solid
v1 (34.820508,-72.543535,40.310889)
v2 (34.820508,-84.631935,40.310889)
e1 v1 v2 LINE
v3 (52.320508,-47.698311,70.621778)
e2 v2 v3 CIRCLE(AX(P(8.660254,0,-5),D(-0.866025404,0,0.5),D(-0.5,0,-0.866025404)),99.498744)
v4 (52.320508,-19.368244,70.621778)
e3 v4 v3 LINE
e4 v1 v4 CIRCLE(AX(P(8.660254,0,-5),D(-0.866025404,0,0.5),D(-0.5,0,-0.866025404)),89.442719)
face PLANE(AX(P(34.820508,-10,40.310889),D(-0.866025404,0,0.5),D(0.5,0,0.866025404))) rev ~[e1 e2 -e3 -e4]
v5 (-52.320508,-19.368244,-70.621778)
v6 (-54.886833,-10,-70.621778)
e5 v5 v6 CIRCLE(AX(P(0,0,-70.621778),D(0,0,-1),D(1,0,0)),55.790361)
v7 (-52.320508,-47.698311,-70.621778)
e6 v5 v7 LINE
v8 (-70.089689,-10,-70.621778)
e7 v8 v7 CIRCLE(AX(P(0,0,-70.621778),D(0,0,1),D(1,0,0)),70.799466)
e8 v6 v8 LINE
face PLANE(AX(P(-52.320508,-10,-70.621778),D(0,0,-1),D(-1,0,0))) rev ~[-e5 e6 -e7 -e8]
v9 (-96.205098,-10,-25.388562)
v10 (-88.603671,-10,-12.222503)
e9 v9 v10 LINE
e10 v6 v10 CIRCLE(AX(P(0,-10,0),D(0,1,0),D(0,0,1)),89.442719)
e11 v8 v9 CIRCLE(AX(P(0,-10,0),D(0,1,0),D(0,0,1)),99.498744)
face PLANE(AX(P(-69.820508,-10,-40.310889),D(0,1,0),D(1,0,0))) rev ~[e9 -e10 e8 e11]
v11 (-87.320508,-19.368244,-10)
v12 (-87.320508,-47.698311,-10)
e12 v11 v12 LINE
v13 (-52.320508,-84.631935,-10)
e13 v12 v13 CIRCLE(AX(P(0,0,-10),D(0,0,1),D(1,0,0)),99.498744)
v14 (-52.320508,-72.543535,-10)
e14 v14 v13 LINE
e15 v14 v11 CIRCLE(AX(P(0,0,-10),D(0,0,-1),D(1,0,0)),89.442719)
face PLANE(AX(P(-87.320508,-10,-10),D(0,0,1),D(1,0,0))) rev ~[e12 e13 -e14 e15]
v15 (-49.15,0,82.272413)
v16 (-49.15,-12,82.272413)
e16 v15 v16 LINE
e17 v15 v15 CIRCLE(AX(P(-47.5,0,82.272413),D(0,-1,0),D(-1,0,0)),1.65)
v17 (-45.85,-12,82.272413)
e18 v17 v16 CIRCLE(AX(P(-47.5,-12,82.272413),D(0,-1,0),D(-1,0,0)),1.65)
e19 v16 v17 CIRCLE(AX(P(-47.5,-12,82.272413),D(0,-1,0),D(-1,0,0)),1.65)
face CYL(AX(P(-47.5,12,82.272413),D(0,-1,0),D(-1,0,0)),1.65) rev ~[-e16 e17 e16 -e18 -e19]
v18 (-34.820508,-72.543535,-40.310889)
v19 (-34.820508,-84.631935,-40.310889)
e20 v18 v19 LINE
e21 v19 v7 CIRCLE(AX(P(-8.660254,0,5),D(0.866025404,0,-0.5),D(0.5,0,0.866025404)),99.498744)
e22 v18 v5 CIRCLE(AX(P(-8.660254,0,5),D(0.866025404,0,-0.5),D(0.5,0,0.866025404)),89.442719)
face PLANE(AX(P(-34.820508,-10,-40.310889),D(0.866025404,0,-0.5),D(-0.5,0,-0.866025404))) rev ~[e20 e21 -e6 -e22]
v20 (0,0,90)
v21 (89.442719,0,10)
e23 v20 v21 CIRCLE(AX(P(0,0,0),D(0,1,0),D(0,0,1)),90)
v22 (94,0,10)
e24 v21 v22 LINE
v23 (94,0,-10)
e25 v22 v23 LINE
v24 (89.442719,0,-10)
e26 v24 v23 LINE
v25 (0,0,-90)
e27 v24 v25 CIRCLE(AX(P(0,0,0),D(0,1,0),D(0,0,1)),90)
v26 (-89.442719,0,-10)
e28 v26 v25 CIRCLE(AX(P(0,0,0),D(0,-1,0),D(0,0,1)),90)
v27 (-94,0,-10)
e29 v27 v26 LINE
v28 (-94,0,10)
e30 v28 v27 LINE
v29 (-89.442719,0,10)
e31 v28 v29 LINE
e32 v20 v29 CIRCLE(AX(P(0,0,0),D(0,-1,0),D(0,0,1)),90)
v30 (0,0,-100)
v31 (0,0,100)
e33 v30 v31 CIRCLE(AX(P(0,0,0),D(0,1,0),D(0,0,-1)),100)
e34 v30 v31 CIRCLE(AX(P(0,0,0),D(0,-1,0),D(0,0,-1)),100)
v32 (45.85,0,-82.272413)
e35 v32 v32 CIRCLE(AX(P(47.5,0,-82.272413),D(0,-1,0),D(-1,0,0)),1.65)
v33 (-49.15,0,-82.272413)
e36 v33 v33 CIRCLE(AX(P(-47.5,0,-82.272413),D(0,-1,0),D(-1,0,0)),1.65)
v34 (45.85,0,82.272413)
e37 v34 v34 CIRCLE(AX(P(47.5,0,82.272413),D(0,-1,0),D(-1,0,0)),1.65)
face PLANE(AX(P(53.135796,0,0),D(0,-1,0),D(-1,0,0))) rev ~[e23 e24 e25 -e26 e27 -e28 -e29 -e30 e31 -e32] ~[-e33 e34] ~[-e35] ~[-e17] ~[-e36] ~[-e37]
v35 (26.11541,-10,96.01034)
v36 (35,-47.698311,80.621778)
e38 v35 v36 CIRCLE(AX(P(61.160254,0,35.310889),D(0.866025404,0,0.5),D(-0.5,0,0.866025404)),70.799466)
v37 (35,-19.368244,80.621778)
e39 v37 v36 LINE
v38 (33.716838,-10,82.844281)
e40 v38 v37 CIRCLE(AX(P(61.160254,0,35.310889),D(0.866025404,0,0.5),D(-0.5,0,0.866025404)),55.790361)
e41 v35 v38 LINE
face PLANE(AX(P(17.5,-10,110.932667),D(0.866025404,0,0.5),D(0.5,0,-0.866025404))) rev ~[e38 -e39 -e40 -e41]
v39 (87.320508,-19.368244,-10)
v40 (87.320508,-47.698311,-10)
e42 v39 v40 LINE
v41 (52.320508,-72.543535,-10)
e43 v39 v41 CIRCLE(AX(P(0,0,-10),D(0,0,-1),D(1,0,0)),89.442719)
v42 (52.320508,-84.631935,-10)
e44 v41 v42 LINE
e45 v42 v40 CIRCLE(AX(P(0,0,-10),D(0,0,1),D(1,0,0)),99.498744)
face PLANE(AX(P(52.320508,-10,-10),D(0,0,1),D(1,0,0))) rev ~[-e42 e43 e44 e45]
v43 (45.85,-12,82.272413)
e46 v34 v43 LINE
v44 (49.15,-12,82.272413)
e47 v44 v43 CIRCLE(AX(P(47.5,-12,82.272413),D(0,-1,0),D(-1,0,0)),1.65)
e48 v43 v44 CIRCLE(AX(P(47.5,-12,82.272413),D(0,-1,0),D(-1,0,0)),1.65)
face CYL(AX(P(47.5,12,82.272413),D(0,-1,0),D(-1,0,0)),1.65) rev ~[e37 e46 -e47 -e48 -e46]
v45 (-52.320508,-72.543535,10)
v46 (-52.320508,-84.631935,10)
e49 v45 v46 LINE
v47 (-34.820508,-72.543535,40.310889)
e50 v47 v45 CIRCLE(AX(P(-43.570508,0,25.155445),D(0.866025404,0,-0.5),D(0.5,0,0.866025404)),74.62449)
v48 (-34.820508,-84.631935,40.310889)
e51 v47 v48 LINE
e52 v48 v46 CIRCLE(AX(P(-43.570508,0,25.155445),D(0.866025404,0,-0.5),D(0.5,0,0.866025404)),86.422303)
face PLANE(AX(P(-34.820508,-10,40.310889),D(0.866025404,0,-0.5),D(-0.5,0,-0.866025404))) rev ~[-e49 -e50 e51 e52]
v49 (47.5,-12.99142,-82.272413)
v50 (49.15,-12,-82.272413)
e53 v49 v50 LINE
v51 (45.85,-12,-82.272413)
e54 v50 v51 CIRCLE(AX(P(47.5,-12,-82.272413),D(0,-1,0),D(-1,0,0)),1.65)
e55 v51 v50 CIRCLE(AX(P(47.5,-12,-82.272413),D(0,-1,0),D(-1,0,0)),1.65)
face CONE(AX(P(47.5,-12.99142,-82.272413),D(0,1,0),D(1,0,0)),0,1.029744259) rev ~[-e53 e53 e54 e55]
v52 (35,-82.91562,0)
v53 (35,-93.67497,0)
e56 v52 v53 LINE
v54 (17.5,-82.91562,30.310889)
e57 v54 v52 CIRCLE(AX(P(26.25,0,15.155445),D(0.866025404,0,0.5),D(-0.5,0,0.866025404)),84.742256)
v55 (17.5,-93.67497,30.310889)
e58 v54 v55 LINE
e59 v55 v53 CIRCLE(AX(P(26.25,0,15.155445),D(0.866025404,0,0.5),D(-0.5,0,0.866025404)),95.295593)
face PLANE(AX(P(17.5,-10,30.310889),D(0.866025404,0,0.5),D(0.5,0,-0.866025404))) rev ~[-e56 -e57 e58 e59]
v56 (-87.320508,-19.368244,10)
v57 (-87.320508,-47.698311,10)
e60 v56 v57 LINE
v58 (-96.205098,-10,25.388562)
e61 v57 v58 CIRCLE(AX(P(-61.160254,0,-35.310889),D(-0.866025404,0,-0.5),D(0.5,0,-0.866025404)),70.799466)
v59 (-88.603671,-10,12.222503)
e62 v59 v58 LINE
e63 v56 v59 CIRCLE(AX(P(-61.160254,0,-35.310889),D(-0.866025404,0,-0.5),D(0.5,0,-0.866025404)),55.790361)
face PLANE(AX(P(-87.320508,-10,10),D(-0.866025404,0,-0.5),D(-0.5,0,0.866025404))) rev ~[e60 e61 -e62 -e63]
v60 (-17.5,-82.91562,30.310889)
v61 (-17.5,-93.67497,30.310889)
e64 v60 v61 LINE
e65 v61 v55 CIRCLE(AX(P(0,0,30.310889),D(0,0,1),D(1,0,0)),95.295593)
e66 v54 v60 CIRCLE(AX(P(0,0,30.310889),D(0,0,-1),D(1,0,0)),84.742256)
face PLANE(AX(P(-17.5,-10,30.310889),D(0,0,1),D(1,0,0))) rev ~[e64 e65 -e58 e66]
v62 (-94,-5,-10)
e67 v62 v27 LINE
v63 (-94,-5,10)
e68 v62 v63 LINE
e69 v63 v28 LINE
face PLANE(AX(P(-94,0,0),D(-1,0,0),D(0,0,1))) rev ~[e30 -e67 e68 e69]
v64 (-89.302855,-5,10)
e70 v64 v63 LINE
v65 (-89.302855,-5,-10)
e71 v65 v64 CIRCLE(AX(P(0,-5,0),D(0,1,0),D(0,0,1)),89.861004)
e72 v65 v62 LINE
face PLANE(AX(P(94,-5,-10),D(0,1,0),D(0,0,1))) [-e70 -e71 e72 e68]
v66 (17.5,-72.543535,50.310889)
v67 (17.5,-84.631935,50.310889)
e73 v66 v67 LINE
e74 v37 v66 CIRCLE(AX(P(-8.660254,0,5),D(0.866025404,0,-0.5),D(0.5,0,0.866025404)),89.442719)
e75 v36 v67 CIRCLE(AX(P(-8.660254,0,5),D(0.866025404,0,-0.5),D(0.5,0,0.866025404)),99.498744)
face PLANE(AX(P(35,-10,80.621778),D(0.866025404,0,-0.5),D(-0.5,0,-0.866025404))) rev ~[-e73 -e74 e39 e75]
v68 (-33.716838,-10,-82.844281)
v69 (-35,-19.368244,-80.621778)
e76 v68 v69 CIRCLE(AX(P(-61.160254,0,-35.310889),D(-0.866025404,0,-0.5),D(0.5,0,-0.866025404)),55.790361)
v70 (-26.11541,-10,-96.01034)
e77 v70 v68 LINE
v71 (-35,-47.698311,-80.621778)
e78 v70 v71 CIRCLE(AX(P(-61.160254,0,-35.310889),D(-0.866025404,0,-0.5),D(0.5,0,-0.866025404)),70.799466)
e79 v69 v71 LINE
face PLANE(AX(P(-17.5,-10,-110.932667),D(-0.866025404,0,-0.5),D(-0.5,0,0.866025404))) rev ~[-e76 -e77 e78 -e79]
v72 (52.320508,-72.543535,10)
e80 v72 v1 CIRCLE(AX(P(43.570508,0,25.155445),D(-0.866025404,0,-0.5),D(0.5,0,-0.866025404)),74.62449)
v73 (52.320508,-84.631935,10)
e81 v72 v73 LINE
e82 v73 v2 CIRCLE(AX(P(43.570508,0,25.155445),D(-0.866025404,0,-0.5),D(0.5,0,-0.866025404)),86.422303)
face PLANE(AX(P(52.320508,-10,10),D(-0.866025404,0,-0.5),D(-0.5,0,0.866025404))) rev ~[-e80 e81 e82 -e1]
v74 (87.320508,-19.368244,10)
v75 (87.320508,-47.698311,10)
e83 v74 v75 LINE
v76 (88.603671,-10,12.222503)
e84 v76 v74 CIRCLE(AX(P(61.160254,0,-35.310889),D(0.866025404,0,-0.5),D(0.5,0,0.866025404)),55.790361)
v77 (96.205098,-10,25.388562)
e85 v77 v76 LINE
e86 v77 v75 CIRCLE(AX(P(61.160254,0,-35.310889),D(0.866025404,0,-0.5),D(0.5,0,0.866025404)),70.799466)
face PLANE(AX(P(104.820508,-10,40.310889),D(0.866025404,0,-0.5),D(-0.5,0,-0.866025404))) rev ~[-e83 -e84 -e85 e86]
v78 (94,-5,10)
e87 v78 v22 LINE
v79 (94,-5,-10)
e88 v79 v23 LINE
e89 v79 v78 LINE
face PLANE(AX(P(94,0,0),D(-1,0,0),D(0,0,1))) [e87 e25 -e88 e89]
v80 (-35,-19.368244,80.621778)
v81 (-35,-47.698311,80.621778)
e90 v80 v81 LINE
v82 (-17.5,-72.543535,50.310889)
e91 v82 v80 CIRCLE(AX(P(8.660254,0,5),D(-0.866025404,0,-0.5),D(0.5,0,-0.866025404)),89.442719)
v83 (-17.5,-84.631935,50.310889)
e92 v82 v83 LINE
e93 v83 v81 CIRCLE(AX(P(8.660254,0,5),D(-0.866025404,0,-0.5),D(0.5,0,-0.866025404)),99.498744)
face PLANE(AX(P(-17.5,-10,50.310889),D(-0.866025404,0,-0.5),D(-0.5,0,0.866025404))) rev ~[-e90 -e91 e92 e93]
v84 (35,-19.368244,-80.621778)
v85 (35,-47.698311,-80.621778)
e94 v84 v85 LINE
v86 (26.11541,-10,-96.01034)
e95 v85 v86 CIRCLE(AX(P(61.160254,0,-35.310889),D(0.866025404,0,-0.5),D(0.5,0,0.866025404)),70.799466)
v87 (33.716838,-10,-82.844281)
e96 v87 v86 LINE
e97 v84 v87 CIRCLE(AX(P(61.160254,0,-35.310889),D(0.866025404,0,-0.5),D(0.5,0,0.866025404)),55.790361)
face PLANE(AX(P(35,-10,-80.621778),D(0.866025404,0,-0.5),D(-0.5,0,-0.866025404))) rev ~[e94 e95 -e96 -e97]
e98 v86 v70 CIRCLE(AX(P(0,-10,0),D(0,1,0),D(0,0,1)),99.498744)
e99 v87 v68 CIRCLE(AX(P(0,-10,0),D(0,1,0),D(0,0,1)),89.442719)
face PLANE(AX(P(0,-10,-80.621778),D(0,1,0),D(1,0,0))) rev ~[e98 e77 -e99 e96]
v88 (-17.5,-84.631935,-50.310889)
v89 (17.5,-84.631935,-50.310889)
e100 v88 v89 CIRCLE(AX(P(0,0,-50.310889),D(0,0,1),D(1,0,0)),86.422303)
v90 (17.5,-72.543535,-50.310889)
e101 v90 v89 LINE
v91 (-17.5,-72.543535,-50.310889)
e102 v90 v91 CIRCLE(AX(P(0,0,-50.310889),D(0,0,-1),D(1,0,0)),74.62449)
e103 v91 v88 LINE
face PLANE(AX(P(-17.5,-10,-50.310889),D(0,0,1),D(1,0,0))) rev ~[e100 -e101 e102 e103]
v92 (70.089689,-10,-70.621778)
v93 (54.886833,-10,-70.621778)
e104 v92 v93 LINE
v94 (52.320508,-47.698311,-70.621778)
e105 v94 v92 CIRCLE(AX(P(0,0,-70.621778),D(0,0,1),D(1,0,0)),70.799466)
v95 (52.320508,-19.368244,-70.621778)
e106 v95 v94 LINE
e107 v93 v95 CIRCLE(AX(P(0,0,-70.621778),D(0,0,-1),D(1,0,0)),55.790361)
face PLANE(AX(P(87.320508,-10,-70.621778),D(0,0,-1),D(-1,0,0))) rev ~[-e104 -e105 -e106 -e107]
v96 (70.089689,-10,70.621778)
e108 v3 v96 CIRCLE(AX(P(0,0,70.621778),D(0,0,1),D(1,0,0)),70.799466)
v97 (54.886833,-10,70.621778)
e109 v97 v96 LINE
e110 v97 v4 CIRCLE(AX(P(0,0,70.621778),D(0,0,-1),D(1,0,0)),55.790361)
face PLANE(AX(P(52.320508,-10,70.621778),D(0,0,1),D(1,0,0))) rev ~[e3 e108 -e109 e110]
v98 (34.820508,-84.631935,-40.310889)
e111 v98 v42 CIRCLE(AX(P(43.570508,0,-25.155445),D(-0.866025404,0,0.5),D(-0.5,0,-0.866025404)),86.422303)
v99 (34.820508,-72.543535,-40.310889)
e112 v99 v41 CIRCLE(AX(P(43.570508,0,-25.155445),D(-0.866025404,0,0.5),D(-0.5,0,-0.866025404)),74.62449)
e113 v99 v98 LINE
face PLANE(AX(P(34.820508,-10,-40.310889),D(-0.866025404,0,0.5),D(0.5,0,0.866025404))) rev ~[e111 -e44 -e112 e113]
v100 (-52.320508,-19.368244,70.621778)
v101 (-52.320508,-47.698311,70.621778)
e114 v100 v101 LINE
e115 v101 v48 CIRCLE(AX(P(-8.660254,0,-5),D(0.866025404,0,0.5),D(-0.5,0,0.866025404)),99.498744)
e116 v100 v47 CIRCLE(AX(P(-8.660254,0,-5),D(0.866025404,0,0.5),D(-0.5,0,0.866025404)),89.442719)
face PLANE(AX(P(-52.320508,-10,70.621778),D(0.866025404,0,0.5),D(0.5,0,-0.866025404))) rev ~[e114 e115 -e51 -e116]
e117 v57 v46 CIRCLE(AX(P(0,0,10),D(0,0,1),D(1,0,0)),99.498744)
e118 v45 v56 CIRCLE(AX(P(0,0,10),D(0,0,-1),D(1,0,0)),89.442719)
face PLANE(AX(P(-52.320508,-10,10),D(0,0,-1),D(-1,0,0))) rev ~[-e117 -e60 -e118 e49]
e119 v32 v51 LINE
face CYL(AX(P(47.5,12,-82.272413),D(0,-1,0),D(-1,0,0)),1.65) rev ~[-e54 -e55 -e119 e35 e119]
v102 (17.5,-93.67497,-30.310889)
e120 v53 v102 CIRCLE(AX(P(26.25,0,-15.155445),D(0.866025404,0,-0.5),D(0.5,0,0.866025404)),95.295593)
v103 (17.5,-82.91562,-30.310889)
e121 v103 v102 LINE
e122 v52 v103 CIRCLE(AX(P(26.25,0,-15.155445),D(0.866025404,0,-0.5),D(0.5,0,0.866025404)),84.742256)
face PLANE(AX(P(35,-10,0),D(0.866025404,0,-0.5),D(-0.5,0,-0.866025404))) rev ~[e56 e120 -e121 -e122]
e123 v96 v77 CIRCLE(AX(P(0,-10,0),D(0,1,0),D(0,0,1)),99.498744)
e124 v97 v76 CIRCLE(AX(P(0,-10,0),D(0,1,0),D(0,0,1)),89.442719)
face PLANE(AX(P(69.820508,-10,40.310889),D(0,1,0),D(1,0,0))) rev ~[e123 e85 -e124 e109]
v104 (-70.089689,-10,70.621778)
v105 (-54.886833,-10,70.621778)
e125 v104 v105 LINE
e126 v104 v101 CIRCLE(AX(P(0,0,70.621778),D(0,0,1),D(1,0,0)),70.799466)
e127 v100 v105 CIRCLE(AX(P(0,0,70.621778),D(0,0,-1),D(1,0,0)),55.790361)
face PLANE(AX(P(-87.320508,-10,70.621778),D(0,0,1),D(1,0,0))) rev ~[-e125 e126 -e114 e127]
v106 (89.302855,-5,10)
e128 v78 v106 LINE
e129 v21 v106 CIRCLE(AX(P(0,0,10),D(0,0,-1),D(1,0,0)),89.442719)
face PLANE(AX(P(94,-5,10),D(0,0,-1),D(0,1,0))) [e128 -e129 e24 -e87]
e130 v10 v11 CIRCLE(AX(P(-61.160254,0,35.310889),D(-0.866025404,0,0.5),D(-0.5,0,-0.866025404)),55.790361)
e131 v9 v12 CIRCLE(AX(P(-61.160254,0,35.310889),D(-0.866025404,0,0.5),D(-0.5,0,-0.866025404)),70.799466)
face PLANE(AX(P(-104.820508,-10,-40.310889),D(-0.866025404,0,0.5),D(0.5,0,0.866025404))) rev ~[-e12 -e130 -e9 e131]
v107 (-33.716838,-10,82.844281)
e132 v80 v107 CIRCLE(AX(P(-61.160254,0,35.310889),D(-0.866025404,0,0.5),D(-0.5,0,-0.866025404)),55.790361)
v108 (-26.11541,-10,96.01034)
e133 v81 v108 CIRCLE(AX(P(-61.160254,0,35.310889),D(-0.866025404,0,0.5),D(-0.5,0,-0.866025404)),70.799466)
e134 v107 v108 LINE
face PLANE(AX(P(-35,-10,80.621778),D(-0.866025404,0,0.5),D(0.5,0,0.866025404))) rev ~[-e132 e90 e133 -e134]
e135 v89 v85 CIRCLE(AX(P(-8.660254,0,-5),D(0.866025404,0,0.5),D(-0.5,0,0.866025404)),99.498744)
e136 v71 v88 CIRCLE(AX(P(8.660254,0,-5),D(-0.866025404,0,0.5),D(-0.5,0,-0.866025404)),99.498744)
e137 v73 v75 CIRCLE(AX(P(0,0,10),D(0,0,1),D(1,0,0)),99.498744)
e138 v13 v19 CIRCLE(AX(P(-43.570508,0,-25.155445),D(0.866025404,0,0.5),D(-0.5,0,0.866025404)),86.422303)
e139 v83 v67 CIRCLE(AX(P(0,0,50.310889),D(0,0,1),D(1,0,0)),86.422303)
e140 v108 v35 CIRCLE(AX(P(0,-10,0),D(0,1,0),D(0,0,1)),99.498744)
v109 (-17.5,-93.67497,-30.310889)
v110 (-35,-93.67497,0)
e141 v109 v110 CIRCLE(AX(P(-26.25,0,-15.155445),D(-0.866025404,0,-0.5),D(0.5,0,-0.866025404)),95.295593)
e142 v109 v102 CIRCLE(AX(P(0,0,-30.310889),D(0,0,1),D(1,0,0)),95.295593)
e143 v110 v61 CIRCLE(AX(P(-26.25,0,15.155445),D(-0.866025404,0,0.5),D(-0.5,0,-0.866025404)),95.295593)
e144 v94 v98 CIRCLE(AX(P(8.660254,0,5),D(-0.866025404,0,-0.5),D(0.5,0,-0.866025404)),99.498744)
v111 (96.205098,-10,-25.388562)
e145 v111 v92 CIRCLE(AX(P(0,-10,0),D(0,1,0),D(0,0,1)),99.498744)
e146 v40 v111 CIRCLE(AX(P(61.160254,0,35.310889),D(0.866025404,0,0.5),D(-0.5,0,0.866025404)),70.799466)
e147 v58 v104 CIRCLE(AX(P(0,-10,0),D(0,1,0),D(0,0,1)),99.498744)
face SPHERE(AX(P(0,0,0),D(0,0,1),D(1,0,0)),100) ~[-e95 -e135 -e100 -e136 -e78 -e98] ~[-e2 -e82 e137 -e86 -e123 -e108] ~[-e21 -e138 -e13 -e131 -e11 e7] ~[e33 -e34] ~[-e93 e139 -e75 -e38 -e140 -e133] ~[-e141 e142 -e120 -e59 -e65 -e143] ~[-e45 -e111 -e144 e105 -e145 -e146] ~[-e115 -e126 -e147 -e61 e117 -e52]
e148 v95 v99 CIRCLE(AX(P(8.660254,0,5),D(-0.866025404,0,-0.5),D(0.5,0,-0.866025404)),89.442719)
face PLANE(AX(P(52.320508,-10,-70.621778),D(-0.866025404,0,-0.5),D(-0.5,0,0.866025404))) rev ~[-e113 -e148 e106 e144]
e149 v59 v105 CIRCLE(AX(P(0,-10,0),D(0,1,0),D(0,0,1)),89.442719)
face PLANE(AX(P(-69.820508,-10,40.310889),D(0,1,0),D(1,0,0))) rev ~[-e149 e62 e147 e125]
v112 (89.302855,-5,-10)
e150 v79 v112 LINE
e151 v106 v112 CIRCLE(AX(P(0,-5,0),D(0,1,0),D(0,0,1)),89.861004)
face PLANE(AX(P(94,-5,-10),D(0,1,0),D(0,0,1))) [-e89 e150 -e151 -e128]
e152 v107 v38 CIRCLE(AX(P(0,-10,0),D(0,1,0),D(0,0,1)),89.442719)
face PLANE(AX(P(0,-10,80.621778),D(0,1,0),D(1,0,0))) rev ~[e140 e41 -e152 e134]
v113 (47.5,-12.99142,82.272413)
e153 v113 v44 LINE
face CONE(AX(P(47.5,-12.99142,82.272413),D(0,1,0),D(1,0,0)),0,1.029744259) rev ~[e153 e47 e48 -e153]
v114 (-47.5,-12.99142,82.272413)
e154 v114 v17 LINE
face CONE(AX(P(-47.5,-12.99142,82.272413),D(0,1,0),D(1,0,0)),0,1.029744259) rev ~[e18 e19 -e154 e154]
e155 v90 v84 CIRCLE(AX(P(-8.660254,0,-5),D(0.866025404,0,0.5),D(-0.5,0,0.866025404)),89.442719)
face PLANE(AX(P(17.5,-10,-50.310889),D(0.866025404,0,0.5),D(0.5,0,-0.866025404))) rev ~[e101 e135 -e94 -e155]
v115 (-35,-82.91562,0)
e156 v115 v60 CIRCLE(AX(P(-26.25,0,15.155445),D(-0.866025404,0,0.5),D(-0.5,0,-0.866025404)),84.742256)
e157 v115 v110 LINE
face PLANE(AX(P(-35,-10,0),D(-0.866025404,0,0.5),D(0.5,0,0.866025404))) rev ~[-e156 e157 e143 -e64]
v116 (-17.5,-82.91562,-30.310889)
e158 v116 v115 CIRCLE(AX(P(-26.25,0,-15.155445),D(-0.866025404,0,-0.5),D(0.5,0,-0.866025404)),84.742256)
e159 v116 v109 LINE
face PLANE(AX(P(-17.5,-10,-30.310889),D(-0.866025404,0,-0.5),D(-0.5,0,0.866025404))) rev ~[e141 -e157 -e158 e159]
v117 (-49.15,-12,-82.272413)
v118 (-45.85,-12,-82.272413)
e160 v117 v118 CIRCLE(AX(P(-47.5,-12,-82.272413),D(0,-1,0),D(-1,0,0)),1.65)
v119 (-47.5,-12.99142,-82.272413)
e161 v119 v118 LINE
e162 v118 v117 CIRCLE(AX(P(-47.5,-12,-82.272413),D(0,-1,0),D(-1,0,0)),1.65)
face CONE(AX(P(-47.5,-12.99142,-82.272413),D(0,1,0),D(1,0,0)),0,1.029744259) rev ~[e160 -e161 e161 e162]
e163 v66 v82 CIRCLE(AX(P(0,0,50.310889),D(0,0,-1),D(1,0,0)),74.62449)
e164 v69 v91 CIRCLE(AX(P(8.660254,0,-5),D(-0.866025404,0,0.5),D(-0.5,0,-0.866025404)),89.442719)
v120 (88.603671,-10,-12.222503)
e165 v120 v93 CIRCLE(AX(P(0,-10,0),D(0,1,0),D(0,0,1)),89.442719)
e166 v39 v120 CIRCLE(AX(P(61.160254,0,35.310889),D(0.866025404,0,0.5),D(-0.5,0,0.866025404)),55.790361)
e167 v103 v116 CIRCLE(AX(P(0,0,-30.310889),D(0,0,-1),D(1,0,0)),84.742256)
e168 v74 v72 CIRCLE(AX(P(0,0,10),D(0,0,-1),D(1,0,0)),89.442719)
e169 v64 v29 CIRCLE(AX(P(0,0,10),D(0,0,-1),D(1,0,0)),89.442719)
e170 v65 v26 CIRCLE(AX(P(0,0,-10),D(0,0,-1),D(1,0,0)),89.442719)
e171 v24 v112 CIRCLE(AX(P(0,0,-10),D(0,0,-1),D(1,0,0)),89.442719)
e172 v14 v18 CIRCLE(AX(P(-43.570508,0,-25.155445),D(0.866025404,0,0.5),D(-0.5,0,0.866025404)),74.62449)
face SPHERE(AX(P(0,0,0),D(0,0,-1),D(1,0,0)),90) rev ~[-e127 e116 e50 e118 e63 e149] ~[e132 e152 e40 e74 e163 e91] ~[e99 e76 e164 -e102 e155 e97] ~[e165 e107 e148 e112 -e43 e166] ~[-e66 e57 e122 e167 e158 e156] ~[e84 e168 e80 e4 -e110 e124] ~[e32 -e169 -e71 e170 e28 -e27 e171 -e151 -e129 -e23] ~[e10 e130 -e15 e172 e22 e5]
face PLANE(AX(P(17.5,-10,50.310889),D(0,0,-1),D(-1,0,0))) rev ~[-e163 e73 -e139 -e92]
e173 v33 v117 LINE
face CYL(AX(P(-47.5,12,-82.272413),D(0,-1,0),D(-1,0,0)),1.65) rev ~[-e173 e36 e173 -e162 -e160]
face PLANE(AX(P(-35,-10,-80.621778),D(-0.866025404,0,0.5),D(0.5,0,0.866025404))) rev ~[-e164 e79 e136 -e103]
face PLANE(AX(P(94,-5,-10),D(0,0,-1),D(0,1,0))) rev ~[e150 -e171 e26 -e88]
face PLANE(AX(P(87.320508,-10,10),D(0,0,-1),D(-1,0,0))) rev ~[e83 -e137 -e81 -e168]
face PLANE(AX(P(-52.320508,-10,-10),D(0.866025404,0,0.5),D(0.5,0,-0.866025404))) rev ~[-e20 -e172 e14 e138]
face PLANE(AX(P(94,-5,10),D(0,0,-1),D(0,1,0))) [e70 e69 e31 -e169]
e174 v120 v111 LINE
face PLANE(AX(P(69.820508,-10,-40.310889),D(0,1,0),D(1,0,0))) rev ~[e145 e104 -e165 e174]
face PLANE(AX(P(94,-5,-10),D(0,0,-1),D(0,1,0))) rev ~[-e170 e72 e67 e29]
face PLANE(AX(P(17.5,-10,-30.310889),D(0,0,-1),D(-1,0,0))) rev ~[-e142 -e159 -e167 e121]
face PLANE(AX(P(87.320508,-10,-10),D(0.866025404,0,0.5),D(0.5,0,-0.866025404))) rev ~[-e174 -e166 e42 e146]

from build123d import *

# Parameters (mm, degrees)
REVOLUCI_N_L_MINA1_ANGLE      = 180
CORTAR_EXTRUIR1_START         = -10
CORTAR_EXTRUIR1_DEPTH         = 100
CORTAR_EXTRUIR2_DEPTH         = 184
CORTAR_EXTRUIR2_DEPTH_BACK    = 4
CROQUIS4_W                    = 20
CROQUIS4_H                    = 10
TALADRO_ROSCADO_M4X0_71_D     = 3.3
TALADRO_ROSCADO_M4X0_71_DEPTH = 12
TALADRO_ROSCADO_M4X0_71_TIP   = 0.991420021


with BuildPart() as part:
    # Croquis1 → Revolución-Lámina1 (revolve)
    with BuildSketch(Plane(origin=(0, 0, 0), x_dir=(1, 0, 0), z_dir=(0, 1, 0))):
        with BuildLine():
            ThreePointArc((0, 100), (100, 0), (0, -100))
            Line((0, -100), (0, -90))
            ThreePointArc((0, -90), (90, 0), (0, 90))
            Line((0, 90), (0, 100))
        make_face()
    revolve(axis=Axis((0, 0, -100), (0, 0, -1)), revolution_arc=REVOLUCI_N_L_MINA1_ANGLE)

    # Croquis2 → Cortar-Extruir1 (cut)
    with BuildSketch(Plane(origin=(0, 0, 0), x_dir=(1, 0, 0), z_dir=(0, 1, 0)).offset(CORTAR_EXTRUIR1_START)):
        Polygon((17.5, 30.310889132), (-17.5, 30.310889132), (-35, 0), (-17.5, -30.310889132), (17.5, -30.310889132), (35, 0), align=None)
        Polygon((104.820508076, 40.310889132), (87.320508076, 70.621778265), (52.320508076, 70.621778265), (34.820508076, 40.310889132), (52.320508076, 10), (87.320508076, 10), align=None)
        Polygon((17.5, 110.932667397), (-17.5, 110.932667397), (-35, 80.621778265), (-17.5, 50.310889132), (17.5, 50.310889132), (35, 80.621778265), align=None)
        Polygon((87.320508076, -70.621778265), (104.820508076, -40.310889132), (87.320508076, -10), (52.320508076, -10), (34.820508076, -40.310889132), (52.320508076, -70.621778265), align=None)
        Polygon((-17.5, -110.932667397), (17.5, -110.932667397), (35, -80.621778265), (17.5, -50.310889132), (-17.5, -50.310889132), (-35, -80.621778265), align=None)
        Polygon((-104.820508076, -40.310889132), (-87.320508076, -70.621778265), (-52.320508076, -70.621778265), (-34.820508076, -40.310889132), (-52.320508076, -10), (-87.320508076, -10), align=None)
        Polygon((-87.320508076, 70.621778265), (-104.820508076, 40.310889132), (-87.320508076, 10), (-52.320508076, 10), (-34.820508076, 40.310889132), (-52.320508076, 70.621778265), align=None)
    extrude(amount=-CORTAR_EXTRUIR1_DEPTH, mode=Mode.SUBTRACT)

    # Croquis4 → Cortar-Extruir2 (cut, two sides: drawn at the far end of the back side and taken through both)
    with BuildSketch(Plane.ZY.offset(-90).offset(-CORTAR_EXTRUIR2_DEPTH_BACK)):
        Rectangle(CROQUIS4_W, CROQUIS4_H)
    extrude(amount=CORTAR_EXTRUIR2_DEPTH + CORTAR_EXTRUIR2_DEPTH_BACK, mode=Mode.SUBTRACT)

    # Taladro roscado M4x0.71
    with Locations(Plane(origin=(0, 0, 0), x_dir=(1, 0, 0), z_dir=(0, 1, 0))):
        with Locations((-47.5, -82.27241336), (47.5, 82.27241336), (47.5, -82.27241336), (-47.5, 82.27241336)):
            Hole(TALADRO_ROSCADO_M4X0_71_D / 2, depth=TALADRO_ROSCADO_M4X0_71_DEPTH)
            with Locations((0, 0, -(TALADRO_ROSCADO_M4X0_71_DEPTH + TALADRO_ROSCADO_M4X0_71_TIP / 2))):  # 118° drill point
                Cone(0, TALADRO_ROSCADO_M4X0_71_D / 2, TALADRO_ROSCADO_M4X0_71_TIP, mode=Mode.SUBTRACT)


solid = part.part
